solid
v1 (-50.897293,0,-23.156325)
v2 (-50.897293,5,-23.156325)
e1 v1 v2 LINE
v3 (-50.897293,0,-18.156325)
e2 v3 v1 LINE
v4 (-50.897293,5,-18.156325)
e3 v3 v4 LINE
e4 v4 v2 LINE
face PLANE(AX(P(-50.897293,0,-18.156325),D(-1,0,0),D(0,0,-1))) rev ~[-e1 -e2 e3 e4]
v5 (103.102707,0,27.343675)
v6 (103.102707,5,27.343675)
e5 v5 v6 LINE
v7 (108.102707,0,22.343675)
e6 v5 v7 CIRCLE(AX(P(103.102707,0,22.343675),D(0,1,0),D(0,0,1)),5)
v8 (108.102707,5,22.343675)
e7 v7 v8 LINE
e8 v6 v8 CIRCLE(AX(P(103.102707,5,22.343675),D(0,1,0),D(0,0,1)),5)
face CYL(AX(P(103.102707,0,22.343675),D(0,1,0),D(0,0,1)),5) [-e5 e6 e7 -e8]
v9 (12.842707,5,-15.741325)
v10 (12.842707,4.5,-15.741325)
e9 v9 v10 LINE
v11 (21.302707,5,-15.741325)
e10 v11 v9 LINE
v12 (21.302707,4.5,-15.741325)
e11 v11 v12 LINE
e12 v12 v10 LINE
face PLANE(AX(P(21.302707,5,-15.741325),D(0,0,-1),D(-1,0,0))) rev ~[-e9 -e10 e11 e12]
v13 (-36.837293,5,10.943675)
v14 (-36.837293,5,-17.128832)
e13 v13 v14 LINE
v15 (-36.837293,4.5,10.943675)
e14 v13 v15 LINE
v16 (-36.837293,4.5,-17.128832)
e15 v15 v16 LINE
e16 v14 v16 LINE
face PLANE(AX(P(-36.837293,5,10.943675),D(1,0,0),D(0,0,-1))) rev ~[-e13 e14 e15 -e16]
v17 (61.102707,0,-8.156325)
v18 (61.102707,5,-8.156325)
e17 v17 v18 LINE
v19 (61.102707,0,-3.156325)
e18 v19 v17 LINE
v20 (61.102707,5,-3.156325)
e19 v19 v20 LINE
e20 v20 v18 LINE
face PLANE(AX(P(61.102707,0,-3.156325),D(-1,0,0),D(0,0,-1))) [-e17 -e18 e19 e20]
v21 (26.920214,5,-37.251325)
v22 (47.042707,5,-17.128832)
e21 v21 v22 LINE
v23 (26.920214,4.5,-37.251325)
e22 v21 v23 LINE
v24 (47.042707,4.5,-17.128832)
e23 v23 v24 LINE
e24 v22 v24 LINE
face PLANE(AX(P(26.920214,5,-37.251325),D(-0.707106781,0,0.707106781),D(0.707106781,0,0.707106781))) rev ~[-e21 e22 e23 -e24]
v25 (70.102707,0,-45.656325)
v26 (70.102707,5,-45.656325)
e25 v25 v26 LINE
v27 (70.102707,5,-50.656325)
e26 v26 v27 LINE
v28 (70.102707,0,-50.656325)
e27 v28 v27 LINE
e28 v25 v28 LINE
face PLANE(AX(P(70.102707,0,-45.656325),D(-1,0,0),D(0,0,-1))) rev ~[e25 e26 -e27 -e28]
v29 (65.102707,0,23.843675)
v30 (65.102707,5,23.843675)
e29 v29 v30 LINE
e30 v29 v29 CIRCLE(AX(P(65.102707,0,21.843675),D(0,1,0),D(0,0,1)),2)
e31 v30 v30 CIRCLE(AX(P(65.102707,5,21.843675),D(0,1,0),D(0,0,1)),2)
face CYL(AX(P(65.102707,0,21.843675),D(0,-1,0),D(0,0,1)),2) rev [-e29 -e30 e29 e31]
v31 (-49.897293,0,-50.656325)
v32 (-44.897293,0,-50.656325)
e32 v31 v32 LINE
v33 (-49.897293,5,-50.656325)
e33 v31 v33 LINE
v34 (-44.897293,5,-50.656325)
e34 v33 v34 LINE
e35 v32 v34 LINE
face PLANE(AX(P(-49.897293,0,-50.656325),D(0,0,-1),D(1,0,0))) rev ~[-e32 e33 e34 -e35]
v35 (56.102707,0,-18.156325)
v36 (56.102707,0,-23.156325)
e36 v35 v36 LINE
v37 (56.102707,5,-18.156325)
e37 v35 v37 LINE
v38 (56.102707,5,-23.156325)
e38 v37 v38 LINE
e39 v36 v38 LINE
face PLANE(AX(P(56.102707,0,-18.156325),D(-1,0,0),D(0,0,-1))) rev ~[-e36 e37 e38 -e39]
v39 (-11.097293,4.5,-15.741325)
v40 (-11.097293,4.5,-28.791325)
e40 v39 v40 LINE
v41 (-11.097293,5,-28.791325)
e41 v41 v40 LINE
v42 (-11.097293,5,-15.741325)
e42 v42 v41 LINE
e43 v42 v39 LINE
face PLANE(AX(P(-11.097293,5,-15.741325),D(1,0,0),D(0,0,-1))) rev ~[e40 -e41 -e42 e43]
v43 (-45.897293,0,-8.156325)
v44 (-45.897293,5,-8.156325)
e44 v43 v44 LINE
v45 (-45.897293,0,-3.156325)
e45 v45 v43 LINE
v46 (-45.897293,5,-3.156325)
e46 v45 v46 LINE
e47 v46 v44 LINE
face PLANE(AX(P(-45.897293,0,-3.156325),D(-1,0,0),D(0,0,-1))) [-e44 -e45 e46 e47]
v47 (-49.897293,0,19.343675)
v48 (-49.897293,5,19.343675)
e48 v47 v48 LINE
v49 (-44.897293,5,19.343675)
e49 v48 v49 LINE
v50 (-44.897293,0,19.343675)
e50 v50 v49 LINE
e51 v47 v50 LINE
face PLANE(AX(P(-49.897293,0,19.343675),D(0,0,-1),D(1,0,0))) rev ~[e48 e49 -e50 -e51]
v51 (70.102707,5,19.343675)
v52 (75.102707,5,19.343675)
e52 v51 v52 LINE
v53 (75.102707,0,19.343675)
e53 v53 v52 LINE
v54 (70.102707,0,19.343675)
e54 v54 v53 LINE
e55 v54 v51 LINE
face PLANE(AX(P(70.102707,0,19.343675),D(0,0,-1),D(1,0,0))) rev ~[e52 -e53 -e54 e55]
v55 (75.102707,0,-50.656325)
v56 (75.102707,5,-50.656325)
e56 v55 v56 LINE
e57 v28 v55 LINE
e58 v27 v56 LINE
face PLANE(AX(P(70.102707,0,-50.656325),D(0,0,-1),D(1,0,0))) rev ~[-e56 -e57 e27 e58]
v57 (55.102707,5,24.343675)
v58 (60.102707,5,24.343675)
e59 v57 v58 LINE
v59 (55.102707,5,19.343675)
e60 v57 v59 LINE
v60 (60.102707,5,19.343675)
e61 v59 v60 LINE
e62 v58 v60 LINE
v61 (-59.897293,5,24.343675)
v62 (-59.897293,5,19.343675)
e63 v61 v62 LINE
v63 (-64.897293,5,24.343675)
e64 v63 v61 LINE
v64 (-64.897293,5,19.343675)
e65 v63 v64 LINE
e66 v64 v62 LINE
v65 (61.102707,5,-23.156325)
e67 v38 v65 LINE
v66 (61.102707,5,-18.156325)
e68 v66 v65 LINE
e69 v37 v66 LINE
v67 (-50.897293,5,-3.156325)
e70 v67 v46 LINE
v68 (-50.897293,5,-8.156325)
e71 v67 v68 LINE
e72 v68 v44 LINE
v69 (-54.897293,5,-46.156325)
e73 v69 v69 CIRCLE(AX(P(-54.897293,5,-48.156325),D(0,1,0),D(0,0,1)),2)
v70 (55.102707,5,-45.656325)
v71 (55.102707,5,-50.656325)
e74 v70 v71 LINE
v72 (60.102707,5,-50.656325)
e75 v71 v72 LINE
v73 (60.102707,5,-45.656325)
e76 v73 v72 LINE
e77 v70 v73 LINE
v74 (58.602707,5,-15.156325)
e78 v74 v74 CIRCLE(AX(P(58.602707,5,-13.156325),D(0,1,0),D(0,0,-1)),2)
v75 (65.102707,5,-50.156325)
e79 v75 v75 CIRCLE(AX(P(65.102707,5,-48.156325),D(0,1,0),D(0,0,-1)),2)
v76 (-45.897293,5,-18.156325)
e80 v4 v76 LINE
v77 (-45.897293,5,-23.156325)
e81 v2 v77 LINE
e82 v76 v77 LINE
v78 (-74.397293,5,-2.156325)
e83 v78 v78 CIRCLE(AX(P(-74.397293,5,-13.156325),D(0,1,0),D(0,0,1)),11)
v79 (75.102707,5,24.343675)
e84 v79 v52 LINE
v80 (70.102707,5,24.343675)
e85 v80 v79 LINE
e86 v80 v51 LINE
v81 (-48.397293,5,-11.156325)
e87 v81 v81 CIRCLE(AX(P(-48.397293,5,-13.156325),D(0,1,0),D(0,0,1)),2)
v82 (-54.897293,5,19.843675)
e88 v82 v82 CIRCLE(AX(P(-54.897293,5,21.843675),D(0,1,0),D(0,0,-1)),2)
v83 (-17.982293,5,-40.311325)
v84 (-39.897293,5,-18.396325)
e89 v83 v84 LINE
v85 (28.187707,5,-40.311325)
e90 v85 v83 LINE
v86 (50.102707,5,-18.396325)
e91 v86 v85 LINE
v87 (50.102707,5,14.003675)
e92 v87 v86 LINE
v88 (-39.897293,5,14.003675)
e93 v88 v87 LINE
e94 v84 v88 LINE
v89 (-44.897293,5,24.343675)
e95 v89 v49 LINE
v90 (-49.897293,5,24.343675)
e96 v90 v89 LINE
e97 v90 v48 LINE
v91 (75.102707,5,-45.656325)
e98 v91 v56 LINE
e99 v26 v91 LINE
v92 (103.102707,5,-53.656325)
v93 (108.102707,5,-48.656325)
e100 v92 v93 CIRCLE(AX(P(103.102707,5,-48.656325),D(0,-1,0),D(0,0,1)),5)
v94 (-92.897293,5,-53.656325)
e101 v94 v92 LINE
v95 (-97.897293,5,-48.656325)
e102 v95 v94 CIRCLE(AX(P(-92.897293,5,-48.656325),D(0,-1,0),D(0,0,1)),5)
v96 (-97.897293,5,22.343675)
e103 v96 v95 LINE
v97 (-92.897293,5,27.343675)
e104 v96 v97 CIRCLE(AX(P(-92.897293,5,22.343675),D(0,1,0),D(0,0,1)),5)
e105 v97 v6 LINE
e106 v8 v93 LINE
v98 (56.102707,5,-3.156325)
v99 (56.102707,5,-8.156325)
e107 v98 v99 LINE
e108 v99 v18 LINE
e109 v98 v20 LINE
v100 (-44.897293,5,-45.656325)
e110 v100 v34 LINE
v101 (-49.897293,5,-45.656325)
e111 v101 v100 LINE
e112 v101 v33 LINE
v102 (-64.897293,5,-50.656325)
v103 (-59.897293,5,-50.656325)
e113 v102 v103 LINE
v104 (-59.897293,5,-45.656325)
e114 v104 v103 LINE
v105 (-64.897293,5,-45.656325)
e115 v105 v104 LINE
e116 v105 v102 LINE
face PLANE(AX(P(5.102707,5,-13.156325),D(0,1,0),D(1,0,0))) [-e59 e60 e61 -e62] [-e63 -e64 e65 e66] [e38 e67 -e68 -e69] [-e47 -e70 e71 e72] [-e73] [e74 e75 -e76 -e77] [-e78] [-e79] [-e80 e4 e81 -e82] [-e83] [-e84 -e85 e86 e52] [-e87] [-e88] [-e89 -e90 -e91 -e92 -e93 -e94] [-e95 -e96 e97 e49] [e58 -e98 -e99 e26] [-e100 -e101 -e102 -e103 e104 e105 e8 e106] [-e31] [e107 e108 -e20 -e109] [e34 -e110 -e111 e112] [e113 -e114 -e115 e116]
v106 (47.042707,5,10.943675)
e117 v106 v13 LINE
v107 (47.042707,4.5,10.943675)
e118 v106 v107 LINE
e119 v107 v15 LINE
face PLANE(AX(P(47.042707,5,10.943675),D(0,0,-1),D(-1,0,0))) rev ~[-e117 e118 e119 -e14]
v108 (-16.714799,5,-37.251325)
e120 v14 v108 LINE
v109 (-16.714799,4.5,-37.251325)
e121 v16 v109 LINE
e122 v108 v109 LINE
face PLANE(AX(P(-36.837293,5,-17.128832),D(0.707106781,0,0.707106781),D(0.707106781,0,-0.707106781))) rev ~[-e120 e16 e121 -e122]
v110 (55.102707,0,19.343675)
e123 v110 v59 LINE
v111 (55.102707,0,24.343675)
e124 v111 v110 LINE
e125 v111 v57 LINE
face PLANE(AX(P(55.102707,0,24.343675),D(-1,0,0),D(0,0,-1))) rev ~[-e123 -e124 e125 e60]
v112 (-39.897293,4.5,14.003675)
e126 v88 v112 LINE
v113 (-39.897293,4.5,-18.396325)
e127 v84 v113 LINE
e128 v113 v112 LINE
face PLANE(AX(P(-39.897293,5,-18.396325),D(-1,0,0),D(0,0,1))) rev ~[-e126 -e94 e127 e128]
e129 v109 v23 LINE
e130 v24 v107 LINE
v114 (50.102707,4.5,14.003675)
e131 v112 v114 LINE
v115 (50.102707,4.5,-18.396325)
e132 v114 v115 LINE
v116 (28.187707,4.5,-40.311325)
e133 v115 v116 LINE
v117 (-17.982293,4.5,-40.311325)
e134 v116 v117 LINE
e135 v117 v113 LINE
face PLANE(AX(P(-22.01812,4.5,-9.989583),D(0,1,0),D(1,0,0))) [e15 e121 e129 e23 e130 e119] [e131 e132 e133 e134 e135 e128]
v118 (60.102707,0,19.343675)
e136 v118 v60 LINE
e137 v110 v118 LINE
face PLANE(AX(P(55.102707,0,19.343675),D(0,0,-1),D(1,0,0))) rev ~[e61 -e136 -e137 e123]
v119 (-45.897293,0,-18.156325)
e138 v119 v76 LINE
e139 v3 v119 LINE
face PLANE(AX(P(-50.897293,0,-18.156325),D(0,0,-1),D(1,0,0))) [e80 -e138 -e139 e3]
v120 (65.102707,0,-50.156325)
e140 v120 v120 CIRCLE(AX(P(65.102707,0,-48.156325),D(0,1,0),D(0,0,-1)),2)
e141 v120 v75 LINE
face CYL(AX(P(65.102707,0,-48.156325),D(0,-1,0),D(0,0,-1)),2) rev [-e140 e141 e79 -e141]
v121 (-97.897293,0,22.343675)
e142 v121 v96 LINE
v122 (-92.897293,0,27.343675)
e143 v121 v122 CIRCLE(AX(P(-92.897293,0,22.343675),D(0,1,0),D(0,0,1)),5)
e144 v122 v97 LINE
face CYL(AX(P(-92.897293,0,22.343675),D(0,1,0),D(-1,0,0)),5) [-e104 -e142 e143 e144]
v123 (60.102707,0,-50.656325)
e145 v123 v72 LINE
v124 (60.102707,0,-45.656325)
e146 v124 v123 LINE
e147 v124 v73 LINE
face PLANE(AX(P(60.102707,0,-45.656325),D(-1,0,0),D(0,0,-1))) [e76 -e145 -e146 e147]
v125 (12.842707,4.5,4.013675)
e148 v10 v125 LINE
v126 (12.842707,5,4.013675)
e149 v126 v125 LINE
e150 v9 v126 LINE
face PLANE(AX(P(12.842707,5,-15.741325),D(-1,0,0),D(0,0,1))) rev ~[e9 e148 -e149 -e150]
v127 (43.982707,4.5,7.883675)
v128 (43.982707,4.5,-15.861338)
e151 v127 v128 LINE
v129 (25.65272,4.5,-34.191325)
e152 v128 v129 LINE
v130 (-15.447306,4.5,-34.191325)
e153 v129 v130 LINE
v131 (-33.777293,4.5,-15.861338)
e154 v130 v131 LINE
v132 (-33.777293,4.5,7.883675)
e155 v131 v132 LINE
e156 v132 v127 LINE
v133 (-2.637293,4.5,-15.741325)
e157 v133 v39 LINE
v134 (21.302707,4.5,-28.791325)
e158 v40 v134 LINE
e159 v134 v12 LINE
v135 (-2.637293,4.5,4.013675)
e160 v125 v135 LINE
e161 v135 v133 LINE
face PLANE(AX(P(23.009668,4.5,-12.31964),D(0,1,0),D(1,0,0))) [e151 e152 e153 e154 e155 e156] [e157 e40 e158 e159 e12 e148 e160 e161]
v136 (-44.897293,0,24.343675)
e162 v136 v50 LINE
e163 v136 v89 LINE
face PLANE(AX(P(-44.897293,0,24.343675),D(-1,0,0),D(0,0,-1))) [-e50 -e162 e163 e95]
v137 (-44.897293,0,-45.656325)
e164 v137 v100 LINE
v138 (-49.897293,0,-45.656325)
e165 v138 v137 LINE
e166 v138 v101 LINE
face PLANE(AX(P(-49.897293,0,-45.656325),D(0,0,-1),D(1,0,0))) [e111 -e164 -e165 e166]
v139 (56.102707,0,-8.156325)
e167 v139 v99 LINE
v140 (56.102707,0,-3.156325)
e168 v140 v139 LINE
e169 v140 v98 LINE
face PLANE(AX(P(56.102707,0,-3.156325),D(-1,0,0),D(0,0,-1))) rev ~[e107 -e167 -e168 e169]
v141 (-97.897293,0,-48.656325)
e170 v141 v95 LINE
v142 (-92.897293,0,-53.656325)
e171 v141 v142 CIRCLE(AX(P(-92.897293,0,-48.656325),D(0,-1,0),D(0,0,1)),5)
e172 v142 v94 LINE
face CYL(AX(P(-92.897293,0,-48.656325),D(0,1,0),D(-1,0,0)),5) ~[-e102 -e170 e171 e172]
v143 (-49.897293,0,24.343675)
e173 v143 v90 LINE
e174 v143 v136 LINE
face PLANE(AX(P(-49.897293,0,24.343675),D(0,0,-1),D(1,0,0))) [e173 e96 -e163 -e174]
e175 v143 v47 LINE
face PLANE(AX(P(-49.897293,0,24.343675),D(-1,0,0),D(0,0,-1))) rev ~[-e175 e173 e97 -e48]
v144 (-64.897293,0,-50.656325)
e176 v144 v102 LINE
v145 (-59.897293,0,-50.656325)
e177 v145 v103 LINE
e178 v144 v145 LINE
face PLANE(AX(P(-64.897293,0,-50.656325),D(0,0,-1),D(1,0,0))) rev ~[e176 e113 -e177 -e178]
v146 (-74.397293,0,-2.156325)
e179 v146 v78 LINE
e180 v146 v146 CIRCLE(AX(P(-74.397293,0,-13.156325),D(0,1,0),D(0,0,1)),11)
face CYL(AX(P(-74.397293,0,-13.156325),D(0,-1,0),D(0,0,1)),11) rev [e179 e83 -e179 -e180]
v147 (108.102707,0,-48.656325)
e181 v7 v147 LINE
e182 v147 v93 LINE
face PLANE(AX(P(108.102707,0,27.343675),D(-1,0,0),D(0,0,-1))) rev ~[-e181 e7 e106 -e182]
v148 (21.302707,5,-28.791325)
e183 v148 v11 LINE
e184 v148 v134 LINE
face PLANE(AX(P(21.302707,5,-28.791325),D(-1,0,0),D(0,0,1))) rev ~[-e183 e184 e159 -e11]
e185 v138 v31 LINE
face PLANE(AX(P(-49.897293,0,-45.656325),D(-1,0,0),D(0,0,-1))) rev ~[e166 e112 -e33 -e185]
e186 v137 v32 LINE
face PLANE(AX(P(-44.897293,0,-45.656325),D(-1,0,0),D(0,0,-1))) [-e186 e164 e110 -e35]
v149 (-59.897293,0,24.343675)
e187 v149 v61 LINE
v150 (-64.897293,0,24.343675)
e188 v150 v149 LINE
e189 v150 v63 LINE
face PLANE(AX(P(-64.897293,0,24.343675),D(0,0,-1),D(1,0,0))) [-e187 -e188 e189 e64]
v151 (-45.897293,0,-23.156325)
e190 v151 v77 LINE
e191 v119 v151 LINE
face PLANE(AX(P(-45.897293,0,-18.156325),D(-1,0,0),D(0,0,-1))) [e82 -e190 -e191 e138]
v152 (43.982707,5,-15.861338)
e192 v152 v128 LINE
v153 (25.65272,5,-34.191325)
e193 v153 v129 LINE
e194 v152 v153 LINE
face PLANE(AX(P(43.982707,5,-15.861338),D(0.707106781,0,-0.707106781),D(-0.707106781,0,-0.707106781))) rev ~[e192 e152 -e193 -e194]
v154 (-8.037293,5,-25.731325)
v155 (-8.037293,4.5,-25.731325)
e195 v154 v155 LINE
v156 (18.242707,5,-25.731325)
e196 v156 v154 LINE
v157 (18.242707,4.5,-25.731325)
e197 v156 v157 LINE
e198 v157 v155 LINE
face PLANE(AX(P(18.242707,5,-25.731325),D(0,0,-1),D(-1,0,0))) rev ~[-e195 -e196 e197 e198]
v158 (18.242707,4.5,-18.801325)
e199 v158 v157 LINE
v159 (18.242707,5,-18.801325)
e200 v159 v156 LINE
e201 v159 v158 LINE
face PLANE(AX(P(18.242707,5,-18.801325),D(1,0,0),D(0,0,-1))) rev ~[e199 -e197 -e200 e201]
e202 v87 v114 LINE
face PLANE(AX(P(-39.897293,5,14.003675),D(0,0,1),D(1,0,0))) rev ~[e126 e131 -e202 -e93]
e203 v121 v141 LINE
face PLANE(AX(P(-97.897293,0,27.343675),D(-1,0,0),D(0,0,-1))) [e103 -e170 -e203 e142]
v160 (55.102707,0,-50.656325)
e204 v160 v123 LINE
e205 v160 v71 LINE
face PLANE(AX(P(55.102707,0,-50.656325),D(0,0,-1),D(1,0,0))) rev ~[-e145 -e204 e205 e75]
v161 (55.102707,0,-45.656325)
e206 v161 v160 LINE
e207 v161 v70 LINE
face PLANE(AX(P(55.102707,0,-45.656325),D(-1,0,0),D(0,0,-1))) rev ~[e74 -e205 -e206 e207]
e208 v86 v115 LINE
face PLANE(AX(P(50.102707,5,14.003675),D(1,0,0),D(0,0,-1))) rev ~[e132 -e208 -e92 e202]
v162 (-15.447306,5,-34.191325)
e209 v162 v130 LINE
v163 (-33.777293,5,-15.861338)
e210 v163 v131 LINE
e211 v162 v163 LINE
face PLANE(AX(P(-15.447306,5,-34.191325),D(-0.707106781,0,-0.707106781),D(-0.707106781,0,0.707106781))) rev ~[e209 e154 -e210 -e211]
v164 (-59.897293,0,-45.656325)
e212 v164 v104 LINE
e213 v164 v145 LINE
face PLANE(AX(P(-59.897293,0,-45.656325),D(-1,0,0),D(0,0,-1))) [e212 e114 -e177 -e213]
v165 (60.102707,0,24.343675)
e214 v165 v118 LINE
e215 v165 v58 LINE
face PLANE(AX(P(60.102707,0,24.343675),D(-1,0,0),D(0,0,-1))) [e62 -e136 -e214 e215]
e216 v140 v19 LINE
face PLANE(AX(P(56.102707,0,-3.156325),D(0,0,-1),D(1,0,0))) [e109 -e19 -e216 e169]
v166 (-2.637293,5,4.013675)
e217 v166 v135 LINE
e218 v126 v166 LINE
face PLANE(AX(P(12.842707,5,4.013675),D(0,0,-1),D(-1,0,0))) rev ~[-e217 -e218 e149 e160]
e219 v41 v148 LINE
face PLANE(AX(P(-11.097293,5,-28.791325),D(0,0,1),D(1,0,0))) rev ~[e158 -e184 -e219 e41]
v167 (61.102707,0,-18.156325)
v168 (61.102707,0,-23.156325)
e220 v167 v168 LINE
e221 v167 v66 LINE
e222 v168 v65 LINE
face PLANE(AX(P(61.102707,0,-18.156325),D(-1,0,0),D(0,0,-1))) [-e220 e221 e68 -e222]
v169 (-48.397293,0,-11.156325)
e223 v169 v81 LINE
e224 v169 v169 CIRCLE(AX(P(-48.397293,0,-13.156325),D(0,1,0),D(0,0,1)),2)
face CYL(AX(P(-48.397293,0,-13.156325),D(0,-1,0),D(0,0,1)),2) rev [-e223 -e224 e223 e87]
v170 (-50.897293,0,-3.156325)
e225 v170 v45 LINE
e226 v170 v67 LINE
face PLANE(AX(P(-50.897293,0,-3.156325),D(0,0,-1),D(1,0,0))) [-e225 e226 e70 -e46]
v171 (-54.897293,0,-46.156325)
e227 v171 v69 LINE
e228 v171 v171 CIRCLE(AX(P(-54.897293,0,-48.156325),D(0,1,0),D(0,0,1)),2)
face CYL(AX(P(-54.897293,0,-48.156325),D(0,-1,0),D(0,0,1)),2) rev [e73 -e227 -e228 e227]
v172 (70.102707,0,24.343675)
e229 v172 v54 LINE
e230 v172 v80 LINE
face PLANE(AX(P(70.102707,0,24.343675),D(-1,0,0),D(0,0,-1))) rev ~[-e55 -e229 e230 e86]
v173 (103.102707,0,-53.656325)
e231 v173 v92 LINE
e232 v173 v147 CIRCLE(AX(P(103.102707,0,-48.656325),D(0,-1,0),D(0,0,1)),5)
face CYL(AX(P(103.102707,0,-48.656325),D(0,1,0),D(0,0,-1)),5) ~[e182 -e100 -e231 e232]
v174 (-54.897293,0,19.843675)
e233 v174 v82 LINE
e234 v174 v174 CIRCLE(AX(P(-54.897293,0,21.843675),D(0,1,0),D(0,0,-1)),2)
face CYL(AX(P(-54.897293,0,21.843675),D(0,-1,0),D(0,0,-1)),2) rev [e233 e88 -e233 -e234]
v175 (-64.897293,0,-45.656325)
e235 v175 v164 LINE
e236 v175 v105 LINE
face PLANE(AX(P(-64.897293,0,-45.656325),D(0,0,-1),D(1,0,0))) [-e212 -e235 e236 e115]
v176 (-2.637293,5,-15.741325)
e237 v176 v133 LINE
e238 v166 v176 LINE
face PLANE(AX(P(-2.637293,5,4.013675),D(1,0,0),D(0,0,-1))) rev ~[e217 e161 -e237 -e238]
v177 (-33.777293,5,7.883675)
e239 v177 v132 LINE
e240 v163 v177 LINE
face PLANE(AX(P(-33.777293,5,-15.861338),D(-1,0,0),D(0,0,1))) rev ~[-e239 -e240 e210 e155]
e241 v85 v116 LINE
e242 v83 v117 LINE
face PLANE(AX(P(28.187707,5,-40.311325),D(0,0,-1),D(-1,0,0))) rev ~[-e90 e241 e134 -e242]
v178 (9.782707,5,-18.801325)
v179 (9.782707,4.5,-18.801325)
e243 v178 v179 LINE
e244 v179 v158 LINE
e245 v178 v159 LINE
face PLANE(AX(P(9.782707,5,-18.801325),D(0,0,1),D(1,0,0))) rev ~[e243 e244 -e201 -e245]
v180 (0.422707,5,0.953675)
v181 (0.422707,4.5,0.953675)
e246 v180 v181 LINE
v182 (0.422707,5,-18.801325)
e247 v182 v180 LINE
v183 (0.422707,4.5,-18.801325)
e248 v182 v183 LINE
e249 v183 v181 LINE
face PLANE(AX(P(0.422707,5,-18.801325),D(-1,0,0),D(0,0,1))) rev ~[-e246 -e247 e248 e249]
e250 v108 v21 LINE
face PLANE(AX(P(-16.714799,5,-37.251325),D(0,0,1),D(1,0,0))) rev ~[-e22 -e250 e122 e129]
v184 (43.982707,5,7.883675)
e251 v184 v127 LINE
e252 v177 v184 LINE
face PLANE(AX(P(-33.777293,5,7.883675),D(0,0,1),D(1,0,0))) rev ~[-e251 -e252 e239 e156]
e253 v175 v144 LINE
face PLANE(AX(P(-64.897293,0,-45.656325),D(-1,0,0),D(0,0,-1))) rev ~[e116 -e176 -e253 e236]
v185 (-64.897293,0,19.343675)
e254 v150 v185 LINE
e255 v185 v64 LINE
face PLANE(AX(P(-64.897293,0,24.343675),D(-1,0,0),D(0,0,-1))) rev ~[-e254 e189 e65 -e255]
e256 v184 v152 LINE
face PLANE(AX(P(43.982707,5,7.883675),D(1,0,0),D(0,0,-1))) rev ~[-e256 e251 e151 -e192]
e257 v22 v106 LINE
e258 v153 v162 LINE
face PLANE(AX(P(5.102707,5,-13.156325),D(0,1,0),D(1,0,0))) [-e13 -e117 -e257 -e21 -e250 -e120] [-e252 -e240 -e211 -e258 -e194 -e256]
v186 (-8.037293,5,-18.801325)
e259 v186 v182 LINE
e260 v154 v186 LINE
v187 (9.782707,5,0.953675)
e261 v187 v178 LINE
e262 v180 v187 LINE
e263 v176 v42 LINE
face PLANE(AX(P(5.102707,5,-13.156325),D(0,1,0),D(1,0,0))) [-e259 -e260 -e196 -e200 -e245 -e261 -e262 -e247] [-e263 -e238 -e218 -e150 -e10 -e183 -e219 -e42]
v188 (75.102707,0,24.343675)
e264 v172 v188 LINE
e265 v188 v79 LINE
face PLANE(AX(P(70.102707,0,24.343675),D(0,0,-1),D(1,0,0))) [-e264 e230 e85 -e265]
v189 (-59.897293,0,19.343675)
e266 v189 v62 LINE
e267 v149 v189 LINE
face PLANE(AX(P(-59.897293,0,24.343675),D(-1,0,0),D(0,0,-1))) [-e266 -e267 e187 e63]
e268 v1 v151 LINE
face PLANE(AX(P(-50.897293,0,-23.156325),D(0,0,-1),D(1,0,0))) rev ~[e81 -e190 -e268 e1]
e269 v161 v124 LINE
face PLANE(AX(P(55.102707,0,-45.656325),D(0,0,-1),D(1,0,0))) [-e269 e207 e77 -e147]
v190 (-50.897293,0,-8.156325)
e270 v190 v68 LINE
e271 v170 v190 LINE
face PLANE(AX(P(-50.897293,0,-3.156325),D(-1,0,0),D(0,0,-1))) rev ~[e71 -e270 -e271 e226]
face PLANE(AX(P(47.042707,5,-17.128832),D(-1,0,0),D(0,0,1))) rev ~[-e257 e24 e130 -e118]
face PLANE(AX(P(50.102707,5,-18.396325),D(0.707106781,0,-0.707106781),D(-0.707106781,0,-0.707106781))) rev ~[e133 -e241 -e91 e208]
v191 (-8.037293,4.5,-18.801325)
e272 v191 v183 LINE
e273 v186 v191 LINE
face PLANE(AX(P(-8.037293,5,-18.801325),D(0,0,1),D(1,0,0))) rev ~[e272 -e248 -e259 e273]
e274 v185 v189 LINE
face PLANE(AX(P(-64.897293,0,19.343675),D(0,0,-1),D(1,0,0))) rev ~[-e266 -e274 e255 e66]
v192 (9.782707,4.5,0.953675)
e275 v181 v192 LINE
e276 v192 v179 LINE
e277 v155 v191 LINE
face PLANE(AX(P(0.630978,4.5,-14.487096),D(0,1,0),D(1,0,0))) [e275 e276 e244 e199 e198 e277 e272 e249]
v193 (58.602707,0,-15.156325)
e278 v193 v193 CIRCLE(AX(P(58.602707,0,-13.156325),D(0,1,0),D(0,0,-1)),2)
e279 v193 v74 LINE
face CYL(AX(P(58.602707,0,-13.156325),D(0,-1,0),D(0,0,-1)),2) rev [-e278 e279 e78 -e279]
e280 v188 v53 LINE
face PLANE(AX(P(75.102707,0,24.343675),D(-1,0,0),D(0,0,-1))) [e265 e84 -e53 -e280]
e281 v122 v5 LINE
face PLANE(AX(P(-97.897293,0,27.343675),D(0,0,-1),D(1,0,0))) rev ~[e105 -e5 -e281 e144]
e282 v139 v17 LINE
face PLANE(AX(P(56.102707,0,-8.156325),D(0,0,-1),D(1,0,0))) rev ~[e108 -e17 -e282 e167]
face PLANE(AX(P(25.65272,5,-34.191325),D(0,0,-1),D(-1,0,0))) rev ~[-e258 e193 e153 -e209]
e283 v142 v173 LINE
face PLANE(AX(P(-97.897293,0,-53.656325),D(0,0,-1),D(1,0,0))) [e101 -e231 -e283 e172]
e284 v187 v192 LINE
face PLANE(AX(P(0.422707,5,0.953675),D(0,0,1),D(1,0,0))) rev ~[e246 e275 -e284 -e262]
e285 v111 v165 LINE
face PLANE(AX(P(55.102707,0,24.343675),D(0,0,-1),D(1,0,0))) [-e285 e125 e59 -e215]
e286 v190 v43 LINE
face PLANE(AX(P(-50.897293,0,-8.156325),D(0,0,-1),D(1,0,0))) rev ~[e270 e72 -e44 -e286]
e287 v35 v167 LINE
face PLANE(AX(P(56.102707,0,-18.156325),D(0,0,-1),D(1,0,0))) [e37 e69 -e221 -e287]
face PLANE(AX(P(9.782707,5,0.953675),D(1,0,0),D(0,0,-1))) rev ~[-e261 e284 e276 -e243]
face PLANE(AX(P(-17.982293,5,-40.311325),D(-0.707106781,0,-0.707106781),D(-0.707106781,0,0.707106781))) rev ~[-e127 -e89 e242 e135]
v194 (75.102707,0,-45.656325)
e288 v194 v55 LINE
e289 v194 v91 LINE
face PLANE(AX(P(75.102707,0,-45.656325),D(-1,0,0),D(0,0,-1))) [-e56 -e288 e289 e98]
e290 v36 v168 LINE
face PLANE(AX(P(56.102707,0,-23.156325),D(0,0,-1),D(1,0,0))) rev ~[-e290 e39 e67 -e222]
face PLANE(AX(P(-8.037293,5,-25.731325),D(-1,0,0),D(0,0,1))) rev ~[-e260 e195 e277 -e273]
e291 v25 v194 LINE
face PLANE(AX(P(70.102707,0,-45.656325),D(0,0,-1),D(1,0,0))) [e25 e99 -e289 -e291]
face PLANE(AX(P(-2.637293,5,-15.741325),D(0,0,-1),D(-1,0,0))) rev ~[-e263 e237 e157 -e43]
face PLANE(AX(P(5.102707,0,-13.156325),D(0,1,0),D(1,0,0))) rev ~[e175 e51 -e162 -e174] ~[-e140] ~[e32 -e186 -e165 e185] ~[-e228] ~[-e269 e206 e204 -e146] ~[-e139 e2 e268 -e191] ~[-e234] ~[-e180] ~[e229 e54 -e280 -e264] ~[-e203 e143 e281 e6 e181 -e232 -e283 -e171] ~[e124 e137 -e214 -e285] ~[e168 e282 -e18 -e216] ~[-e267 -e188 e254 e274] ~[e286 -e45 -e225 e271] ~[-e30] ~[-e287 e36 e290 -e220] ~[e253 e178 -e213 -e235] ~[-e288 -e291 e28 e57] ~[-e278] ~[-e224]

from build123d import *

# Parameters (mm, degrees)
SKETCH1_W           = 206
SKETCH1_H           = 81
SKETCH1_R           = 2
SKETCH1_R_2         = 11
SKETCH1_W_2         = 5
SKETCH1_H_2         = 5
BOSS_EXTRUDE1_DEPTH = 5
FILLET1_R           = 5
CUT_EXTRUDE1_DEPTH  = 0.5


with BuildPart() as part:
    # Sketch1 → Boss-Extrude1 (new body)
    with BuildSketch(Plane(origin=(0, 0, 0), x_dir=(1, 0, 0), z_dir=(0, 1, 0))):
        with Locations((5.102707087, 13.156325227)):
            Rectangle(SKETCH1_W, SKETCH1_H)
        with Locations(Location((-54.897292913, 48.156325227, 0), (0, 0, 270))):
            Circle(SKETCH1_R, mode=Mode.SUBTRACT)
        with Locations(Location((-54.897292913, -21.843674773, 0), (0, 0, 90))):
            Circle(SKETCH1_R, mode=Mode.SUBTRACT)
        with Locations(Location((65.102707087, -21.843674773, 0), (0, 0, 270))):
            Circle(SKETCH1_R, mode=Mode.SUBTRACT)
        with Locations(Location((65.102707087, 48.156325227, 0), (0, 0, 90))):
            Circle(SKETCH1_R, mode=Mode.SUBTRACT)
        with Locations(Location((-48.397292913, 13.156325227, 0), (0, 0, 270))):
            Circle(SKETCH1_R, mode=Mode.SUBTRACT)
        with Locations(Location((58.602707087, 13.156325227, 0), (0, 0, 90))):
            Circle(SKETCH1_R, mode=Mode.SUBTRACT)
        with Locations(Location((-74.397292913, 13.156325227, 0), (0, 0, 270))):
            Circle(SKETCH1_R_2, mode=Mode.SUBTRACT)
        with Locations((57.602707087, 48.156325227)):
            Rectangle(SKETCH1_W_2, SKETCH1_H_2, mode=Mode.SUBTRACT)
        with Locations((-62.397292913, 48.156325227)):
            Rectangle(SKETCH1_W_2, SKETCH1_H_2, mode=Mode.SUBTRACT)
        with Locations((-47.397292913, 48.156325227)):
            Rectangle(SKETCH1_W_2, SKETCH1_H_2, mode=Mode.SUBTRACT)
        with Locations((72.602707087, 48.156325227)):
            Rectangle(SKETCH1_W_2, SKETCH1_H_2, mode=Mode.SUBTRACT)
        with Locations((72.602707087, -21.843674773)):
            Rectangle(SKETCH1_W_2, SKETCH1_H_2, mode=Mode.SUBTRACT)
        with Locations((57.602707087, -21.843674773)):
            Rectangle(SKETCH1_W_2, SKETCH1_H_2, mode=Mode.SUBTRACT)
        with Locations((-47.397292913, -21.843674773)):
            Rectangle(SKETCH1_W_2, SKETCH1_H_2, mode=Mode.SUBTRACT)
        with Locations((-62.397292913, -21.843674773)):
            Rectangle(SKETCH1_W_2, SKETCH1_H_2, mode=Mode.SUBTRACT)
        with Locations((-48.397292913, 20.656325227)):
            Rectangle(SKETCH1_W_2, SKETCH1_H_2, mode=Mode.SUBTRACT)
        with Locations((-48.397292913, 5.656325227)):
            Rectangle(SKETCH1_W_2, SKETCH1_H_2, mode=Mode.SUBTRACT)
        with Locations((58.602707087, 5.656325227)):
            Rectangle(SKETCH1_W_2, SKETCH1_H_2, mode=Mode.SUBTRACT)
        with Locations((58.602707087, 20.656325227)):
            Rectangle(SKETCH1_W_2, SKETCH1_H_2, mode=Mode.SUBTRACT)
    extrude(amount=BOSS_EXTRUDE1_DEPTH)

    # Fillet1
    fillet1_edges = [part.edges().sort_by_distance(p)[0] for p in [
        (-97.897292913, 2.5, -53.656325227),
        (108.102707087, 2.5, -53.656325227),
        (108.102707087, 2.5, 27.343674773),
        (-97.897292913, 2.5, 27.343674773),
    ]]
    fillet(fillet1_edges, radius=FILLET1_R)

    # Sketch2 → Cut-Extrude1 (cut)
    with BuildSketch(Plane(origin=(0, 5, 0), x_dir=(1, 0, 0), z_dir=(0, 1, 0))):
        Polygon((-39.897292913, 18.396325227), (-39.897292913, -14.003674773), (5.102707087, -14.003674773), (5.102707087, -10.943674773), (-36.837292913, -10.943674773), (-36.837292913, 17.128831726), (-16.714799412, 37.251325227), (5.102707087, 37.251325227), (5.102707087, 40.311325227), (-17.982292913, 40.311325227), align=None)
        Polygon((5.102707087, -10.943674773), (5.102707087, -14.003674773), (50.102707087, -14.003674773), (50.102707087, 18.396325227), (28.187707087, 40.311325227), (5.102707087, 40.311325227), (5.102707087, 37.251325227), (26.920213586, 37.251325227), (47.042707087, 17.128831726), (47.042707087, -10.943674773), align=None)
        Polygon((5.102707087, -4.013674773), (5.102707087, -7.883674773), (43.982707087, -7.883674773), (43.982707087, 15.861338225), (25.652720085, 34.191325227), (5.102707087, 34.191325227), (5.102707087, 28.791325227), (21.302707087, 28.791325227), (21.302707087, 15.741325227), (12.842707087, 15.741325227), (12.842707087, -4.013674773), align=None)
        Polygon((-33.777292913, -7.883674773), (5.102707087, -7.883674773), (5.102707087, -4.013674773), (-2.637292913, -4.013674773), (-2.637292913, 15.741325227), (-11.097292913, 15.741325227), (-11.097292913, 28.791325227), (5.102707087, 28.791325227), (5.102707087, 34.191325227), (-15.447305912, 34.191325227), (-33.777292913, 15.861338225), align=None)
        Polygon((0.422707087, -0.953674773), (5.102707087, -0.953674773), (5.102707087, 25.731325227), (-8.037292913, 25.731325227), (-8.037292913, 18.801325227), (0.422707087, 18.801325227), align=None)
        Polygon((5.102707087, 25.731325227), (5.102707087, -0.953674773), (9.782707087, -0.953674773), (9.782707087, 18.801325227), (18.242707087, 18.801325227), (18.242707087, 25.731325227), align=None)
    extrude(amount=-CUT_EXTRUDE1_DEPTH, mode=Mode.SUBTRACT)


solid = part.part
